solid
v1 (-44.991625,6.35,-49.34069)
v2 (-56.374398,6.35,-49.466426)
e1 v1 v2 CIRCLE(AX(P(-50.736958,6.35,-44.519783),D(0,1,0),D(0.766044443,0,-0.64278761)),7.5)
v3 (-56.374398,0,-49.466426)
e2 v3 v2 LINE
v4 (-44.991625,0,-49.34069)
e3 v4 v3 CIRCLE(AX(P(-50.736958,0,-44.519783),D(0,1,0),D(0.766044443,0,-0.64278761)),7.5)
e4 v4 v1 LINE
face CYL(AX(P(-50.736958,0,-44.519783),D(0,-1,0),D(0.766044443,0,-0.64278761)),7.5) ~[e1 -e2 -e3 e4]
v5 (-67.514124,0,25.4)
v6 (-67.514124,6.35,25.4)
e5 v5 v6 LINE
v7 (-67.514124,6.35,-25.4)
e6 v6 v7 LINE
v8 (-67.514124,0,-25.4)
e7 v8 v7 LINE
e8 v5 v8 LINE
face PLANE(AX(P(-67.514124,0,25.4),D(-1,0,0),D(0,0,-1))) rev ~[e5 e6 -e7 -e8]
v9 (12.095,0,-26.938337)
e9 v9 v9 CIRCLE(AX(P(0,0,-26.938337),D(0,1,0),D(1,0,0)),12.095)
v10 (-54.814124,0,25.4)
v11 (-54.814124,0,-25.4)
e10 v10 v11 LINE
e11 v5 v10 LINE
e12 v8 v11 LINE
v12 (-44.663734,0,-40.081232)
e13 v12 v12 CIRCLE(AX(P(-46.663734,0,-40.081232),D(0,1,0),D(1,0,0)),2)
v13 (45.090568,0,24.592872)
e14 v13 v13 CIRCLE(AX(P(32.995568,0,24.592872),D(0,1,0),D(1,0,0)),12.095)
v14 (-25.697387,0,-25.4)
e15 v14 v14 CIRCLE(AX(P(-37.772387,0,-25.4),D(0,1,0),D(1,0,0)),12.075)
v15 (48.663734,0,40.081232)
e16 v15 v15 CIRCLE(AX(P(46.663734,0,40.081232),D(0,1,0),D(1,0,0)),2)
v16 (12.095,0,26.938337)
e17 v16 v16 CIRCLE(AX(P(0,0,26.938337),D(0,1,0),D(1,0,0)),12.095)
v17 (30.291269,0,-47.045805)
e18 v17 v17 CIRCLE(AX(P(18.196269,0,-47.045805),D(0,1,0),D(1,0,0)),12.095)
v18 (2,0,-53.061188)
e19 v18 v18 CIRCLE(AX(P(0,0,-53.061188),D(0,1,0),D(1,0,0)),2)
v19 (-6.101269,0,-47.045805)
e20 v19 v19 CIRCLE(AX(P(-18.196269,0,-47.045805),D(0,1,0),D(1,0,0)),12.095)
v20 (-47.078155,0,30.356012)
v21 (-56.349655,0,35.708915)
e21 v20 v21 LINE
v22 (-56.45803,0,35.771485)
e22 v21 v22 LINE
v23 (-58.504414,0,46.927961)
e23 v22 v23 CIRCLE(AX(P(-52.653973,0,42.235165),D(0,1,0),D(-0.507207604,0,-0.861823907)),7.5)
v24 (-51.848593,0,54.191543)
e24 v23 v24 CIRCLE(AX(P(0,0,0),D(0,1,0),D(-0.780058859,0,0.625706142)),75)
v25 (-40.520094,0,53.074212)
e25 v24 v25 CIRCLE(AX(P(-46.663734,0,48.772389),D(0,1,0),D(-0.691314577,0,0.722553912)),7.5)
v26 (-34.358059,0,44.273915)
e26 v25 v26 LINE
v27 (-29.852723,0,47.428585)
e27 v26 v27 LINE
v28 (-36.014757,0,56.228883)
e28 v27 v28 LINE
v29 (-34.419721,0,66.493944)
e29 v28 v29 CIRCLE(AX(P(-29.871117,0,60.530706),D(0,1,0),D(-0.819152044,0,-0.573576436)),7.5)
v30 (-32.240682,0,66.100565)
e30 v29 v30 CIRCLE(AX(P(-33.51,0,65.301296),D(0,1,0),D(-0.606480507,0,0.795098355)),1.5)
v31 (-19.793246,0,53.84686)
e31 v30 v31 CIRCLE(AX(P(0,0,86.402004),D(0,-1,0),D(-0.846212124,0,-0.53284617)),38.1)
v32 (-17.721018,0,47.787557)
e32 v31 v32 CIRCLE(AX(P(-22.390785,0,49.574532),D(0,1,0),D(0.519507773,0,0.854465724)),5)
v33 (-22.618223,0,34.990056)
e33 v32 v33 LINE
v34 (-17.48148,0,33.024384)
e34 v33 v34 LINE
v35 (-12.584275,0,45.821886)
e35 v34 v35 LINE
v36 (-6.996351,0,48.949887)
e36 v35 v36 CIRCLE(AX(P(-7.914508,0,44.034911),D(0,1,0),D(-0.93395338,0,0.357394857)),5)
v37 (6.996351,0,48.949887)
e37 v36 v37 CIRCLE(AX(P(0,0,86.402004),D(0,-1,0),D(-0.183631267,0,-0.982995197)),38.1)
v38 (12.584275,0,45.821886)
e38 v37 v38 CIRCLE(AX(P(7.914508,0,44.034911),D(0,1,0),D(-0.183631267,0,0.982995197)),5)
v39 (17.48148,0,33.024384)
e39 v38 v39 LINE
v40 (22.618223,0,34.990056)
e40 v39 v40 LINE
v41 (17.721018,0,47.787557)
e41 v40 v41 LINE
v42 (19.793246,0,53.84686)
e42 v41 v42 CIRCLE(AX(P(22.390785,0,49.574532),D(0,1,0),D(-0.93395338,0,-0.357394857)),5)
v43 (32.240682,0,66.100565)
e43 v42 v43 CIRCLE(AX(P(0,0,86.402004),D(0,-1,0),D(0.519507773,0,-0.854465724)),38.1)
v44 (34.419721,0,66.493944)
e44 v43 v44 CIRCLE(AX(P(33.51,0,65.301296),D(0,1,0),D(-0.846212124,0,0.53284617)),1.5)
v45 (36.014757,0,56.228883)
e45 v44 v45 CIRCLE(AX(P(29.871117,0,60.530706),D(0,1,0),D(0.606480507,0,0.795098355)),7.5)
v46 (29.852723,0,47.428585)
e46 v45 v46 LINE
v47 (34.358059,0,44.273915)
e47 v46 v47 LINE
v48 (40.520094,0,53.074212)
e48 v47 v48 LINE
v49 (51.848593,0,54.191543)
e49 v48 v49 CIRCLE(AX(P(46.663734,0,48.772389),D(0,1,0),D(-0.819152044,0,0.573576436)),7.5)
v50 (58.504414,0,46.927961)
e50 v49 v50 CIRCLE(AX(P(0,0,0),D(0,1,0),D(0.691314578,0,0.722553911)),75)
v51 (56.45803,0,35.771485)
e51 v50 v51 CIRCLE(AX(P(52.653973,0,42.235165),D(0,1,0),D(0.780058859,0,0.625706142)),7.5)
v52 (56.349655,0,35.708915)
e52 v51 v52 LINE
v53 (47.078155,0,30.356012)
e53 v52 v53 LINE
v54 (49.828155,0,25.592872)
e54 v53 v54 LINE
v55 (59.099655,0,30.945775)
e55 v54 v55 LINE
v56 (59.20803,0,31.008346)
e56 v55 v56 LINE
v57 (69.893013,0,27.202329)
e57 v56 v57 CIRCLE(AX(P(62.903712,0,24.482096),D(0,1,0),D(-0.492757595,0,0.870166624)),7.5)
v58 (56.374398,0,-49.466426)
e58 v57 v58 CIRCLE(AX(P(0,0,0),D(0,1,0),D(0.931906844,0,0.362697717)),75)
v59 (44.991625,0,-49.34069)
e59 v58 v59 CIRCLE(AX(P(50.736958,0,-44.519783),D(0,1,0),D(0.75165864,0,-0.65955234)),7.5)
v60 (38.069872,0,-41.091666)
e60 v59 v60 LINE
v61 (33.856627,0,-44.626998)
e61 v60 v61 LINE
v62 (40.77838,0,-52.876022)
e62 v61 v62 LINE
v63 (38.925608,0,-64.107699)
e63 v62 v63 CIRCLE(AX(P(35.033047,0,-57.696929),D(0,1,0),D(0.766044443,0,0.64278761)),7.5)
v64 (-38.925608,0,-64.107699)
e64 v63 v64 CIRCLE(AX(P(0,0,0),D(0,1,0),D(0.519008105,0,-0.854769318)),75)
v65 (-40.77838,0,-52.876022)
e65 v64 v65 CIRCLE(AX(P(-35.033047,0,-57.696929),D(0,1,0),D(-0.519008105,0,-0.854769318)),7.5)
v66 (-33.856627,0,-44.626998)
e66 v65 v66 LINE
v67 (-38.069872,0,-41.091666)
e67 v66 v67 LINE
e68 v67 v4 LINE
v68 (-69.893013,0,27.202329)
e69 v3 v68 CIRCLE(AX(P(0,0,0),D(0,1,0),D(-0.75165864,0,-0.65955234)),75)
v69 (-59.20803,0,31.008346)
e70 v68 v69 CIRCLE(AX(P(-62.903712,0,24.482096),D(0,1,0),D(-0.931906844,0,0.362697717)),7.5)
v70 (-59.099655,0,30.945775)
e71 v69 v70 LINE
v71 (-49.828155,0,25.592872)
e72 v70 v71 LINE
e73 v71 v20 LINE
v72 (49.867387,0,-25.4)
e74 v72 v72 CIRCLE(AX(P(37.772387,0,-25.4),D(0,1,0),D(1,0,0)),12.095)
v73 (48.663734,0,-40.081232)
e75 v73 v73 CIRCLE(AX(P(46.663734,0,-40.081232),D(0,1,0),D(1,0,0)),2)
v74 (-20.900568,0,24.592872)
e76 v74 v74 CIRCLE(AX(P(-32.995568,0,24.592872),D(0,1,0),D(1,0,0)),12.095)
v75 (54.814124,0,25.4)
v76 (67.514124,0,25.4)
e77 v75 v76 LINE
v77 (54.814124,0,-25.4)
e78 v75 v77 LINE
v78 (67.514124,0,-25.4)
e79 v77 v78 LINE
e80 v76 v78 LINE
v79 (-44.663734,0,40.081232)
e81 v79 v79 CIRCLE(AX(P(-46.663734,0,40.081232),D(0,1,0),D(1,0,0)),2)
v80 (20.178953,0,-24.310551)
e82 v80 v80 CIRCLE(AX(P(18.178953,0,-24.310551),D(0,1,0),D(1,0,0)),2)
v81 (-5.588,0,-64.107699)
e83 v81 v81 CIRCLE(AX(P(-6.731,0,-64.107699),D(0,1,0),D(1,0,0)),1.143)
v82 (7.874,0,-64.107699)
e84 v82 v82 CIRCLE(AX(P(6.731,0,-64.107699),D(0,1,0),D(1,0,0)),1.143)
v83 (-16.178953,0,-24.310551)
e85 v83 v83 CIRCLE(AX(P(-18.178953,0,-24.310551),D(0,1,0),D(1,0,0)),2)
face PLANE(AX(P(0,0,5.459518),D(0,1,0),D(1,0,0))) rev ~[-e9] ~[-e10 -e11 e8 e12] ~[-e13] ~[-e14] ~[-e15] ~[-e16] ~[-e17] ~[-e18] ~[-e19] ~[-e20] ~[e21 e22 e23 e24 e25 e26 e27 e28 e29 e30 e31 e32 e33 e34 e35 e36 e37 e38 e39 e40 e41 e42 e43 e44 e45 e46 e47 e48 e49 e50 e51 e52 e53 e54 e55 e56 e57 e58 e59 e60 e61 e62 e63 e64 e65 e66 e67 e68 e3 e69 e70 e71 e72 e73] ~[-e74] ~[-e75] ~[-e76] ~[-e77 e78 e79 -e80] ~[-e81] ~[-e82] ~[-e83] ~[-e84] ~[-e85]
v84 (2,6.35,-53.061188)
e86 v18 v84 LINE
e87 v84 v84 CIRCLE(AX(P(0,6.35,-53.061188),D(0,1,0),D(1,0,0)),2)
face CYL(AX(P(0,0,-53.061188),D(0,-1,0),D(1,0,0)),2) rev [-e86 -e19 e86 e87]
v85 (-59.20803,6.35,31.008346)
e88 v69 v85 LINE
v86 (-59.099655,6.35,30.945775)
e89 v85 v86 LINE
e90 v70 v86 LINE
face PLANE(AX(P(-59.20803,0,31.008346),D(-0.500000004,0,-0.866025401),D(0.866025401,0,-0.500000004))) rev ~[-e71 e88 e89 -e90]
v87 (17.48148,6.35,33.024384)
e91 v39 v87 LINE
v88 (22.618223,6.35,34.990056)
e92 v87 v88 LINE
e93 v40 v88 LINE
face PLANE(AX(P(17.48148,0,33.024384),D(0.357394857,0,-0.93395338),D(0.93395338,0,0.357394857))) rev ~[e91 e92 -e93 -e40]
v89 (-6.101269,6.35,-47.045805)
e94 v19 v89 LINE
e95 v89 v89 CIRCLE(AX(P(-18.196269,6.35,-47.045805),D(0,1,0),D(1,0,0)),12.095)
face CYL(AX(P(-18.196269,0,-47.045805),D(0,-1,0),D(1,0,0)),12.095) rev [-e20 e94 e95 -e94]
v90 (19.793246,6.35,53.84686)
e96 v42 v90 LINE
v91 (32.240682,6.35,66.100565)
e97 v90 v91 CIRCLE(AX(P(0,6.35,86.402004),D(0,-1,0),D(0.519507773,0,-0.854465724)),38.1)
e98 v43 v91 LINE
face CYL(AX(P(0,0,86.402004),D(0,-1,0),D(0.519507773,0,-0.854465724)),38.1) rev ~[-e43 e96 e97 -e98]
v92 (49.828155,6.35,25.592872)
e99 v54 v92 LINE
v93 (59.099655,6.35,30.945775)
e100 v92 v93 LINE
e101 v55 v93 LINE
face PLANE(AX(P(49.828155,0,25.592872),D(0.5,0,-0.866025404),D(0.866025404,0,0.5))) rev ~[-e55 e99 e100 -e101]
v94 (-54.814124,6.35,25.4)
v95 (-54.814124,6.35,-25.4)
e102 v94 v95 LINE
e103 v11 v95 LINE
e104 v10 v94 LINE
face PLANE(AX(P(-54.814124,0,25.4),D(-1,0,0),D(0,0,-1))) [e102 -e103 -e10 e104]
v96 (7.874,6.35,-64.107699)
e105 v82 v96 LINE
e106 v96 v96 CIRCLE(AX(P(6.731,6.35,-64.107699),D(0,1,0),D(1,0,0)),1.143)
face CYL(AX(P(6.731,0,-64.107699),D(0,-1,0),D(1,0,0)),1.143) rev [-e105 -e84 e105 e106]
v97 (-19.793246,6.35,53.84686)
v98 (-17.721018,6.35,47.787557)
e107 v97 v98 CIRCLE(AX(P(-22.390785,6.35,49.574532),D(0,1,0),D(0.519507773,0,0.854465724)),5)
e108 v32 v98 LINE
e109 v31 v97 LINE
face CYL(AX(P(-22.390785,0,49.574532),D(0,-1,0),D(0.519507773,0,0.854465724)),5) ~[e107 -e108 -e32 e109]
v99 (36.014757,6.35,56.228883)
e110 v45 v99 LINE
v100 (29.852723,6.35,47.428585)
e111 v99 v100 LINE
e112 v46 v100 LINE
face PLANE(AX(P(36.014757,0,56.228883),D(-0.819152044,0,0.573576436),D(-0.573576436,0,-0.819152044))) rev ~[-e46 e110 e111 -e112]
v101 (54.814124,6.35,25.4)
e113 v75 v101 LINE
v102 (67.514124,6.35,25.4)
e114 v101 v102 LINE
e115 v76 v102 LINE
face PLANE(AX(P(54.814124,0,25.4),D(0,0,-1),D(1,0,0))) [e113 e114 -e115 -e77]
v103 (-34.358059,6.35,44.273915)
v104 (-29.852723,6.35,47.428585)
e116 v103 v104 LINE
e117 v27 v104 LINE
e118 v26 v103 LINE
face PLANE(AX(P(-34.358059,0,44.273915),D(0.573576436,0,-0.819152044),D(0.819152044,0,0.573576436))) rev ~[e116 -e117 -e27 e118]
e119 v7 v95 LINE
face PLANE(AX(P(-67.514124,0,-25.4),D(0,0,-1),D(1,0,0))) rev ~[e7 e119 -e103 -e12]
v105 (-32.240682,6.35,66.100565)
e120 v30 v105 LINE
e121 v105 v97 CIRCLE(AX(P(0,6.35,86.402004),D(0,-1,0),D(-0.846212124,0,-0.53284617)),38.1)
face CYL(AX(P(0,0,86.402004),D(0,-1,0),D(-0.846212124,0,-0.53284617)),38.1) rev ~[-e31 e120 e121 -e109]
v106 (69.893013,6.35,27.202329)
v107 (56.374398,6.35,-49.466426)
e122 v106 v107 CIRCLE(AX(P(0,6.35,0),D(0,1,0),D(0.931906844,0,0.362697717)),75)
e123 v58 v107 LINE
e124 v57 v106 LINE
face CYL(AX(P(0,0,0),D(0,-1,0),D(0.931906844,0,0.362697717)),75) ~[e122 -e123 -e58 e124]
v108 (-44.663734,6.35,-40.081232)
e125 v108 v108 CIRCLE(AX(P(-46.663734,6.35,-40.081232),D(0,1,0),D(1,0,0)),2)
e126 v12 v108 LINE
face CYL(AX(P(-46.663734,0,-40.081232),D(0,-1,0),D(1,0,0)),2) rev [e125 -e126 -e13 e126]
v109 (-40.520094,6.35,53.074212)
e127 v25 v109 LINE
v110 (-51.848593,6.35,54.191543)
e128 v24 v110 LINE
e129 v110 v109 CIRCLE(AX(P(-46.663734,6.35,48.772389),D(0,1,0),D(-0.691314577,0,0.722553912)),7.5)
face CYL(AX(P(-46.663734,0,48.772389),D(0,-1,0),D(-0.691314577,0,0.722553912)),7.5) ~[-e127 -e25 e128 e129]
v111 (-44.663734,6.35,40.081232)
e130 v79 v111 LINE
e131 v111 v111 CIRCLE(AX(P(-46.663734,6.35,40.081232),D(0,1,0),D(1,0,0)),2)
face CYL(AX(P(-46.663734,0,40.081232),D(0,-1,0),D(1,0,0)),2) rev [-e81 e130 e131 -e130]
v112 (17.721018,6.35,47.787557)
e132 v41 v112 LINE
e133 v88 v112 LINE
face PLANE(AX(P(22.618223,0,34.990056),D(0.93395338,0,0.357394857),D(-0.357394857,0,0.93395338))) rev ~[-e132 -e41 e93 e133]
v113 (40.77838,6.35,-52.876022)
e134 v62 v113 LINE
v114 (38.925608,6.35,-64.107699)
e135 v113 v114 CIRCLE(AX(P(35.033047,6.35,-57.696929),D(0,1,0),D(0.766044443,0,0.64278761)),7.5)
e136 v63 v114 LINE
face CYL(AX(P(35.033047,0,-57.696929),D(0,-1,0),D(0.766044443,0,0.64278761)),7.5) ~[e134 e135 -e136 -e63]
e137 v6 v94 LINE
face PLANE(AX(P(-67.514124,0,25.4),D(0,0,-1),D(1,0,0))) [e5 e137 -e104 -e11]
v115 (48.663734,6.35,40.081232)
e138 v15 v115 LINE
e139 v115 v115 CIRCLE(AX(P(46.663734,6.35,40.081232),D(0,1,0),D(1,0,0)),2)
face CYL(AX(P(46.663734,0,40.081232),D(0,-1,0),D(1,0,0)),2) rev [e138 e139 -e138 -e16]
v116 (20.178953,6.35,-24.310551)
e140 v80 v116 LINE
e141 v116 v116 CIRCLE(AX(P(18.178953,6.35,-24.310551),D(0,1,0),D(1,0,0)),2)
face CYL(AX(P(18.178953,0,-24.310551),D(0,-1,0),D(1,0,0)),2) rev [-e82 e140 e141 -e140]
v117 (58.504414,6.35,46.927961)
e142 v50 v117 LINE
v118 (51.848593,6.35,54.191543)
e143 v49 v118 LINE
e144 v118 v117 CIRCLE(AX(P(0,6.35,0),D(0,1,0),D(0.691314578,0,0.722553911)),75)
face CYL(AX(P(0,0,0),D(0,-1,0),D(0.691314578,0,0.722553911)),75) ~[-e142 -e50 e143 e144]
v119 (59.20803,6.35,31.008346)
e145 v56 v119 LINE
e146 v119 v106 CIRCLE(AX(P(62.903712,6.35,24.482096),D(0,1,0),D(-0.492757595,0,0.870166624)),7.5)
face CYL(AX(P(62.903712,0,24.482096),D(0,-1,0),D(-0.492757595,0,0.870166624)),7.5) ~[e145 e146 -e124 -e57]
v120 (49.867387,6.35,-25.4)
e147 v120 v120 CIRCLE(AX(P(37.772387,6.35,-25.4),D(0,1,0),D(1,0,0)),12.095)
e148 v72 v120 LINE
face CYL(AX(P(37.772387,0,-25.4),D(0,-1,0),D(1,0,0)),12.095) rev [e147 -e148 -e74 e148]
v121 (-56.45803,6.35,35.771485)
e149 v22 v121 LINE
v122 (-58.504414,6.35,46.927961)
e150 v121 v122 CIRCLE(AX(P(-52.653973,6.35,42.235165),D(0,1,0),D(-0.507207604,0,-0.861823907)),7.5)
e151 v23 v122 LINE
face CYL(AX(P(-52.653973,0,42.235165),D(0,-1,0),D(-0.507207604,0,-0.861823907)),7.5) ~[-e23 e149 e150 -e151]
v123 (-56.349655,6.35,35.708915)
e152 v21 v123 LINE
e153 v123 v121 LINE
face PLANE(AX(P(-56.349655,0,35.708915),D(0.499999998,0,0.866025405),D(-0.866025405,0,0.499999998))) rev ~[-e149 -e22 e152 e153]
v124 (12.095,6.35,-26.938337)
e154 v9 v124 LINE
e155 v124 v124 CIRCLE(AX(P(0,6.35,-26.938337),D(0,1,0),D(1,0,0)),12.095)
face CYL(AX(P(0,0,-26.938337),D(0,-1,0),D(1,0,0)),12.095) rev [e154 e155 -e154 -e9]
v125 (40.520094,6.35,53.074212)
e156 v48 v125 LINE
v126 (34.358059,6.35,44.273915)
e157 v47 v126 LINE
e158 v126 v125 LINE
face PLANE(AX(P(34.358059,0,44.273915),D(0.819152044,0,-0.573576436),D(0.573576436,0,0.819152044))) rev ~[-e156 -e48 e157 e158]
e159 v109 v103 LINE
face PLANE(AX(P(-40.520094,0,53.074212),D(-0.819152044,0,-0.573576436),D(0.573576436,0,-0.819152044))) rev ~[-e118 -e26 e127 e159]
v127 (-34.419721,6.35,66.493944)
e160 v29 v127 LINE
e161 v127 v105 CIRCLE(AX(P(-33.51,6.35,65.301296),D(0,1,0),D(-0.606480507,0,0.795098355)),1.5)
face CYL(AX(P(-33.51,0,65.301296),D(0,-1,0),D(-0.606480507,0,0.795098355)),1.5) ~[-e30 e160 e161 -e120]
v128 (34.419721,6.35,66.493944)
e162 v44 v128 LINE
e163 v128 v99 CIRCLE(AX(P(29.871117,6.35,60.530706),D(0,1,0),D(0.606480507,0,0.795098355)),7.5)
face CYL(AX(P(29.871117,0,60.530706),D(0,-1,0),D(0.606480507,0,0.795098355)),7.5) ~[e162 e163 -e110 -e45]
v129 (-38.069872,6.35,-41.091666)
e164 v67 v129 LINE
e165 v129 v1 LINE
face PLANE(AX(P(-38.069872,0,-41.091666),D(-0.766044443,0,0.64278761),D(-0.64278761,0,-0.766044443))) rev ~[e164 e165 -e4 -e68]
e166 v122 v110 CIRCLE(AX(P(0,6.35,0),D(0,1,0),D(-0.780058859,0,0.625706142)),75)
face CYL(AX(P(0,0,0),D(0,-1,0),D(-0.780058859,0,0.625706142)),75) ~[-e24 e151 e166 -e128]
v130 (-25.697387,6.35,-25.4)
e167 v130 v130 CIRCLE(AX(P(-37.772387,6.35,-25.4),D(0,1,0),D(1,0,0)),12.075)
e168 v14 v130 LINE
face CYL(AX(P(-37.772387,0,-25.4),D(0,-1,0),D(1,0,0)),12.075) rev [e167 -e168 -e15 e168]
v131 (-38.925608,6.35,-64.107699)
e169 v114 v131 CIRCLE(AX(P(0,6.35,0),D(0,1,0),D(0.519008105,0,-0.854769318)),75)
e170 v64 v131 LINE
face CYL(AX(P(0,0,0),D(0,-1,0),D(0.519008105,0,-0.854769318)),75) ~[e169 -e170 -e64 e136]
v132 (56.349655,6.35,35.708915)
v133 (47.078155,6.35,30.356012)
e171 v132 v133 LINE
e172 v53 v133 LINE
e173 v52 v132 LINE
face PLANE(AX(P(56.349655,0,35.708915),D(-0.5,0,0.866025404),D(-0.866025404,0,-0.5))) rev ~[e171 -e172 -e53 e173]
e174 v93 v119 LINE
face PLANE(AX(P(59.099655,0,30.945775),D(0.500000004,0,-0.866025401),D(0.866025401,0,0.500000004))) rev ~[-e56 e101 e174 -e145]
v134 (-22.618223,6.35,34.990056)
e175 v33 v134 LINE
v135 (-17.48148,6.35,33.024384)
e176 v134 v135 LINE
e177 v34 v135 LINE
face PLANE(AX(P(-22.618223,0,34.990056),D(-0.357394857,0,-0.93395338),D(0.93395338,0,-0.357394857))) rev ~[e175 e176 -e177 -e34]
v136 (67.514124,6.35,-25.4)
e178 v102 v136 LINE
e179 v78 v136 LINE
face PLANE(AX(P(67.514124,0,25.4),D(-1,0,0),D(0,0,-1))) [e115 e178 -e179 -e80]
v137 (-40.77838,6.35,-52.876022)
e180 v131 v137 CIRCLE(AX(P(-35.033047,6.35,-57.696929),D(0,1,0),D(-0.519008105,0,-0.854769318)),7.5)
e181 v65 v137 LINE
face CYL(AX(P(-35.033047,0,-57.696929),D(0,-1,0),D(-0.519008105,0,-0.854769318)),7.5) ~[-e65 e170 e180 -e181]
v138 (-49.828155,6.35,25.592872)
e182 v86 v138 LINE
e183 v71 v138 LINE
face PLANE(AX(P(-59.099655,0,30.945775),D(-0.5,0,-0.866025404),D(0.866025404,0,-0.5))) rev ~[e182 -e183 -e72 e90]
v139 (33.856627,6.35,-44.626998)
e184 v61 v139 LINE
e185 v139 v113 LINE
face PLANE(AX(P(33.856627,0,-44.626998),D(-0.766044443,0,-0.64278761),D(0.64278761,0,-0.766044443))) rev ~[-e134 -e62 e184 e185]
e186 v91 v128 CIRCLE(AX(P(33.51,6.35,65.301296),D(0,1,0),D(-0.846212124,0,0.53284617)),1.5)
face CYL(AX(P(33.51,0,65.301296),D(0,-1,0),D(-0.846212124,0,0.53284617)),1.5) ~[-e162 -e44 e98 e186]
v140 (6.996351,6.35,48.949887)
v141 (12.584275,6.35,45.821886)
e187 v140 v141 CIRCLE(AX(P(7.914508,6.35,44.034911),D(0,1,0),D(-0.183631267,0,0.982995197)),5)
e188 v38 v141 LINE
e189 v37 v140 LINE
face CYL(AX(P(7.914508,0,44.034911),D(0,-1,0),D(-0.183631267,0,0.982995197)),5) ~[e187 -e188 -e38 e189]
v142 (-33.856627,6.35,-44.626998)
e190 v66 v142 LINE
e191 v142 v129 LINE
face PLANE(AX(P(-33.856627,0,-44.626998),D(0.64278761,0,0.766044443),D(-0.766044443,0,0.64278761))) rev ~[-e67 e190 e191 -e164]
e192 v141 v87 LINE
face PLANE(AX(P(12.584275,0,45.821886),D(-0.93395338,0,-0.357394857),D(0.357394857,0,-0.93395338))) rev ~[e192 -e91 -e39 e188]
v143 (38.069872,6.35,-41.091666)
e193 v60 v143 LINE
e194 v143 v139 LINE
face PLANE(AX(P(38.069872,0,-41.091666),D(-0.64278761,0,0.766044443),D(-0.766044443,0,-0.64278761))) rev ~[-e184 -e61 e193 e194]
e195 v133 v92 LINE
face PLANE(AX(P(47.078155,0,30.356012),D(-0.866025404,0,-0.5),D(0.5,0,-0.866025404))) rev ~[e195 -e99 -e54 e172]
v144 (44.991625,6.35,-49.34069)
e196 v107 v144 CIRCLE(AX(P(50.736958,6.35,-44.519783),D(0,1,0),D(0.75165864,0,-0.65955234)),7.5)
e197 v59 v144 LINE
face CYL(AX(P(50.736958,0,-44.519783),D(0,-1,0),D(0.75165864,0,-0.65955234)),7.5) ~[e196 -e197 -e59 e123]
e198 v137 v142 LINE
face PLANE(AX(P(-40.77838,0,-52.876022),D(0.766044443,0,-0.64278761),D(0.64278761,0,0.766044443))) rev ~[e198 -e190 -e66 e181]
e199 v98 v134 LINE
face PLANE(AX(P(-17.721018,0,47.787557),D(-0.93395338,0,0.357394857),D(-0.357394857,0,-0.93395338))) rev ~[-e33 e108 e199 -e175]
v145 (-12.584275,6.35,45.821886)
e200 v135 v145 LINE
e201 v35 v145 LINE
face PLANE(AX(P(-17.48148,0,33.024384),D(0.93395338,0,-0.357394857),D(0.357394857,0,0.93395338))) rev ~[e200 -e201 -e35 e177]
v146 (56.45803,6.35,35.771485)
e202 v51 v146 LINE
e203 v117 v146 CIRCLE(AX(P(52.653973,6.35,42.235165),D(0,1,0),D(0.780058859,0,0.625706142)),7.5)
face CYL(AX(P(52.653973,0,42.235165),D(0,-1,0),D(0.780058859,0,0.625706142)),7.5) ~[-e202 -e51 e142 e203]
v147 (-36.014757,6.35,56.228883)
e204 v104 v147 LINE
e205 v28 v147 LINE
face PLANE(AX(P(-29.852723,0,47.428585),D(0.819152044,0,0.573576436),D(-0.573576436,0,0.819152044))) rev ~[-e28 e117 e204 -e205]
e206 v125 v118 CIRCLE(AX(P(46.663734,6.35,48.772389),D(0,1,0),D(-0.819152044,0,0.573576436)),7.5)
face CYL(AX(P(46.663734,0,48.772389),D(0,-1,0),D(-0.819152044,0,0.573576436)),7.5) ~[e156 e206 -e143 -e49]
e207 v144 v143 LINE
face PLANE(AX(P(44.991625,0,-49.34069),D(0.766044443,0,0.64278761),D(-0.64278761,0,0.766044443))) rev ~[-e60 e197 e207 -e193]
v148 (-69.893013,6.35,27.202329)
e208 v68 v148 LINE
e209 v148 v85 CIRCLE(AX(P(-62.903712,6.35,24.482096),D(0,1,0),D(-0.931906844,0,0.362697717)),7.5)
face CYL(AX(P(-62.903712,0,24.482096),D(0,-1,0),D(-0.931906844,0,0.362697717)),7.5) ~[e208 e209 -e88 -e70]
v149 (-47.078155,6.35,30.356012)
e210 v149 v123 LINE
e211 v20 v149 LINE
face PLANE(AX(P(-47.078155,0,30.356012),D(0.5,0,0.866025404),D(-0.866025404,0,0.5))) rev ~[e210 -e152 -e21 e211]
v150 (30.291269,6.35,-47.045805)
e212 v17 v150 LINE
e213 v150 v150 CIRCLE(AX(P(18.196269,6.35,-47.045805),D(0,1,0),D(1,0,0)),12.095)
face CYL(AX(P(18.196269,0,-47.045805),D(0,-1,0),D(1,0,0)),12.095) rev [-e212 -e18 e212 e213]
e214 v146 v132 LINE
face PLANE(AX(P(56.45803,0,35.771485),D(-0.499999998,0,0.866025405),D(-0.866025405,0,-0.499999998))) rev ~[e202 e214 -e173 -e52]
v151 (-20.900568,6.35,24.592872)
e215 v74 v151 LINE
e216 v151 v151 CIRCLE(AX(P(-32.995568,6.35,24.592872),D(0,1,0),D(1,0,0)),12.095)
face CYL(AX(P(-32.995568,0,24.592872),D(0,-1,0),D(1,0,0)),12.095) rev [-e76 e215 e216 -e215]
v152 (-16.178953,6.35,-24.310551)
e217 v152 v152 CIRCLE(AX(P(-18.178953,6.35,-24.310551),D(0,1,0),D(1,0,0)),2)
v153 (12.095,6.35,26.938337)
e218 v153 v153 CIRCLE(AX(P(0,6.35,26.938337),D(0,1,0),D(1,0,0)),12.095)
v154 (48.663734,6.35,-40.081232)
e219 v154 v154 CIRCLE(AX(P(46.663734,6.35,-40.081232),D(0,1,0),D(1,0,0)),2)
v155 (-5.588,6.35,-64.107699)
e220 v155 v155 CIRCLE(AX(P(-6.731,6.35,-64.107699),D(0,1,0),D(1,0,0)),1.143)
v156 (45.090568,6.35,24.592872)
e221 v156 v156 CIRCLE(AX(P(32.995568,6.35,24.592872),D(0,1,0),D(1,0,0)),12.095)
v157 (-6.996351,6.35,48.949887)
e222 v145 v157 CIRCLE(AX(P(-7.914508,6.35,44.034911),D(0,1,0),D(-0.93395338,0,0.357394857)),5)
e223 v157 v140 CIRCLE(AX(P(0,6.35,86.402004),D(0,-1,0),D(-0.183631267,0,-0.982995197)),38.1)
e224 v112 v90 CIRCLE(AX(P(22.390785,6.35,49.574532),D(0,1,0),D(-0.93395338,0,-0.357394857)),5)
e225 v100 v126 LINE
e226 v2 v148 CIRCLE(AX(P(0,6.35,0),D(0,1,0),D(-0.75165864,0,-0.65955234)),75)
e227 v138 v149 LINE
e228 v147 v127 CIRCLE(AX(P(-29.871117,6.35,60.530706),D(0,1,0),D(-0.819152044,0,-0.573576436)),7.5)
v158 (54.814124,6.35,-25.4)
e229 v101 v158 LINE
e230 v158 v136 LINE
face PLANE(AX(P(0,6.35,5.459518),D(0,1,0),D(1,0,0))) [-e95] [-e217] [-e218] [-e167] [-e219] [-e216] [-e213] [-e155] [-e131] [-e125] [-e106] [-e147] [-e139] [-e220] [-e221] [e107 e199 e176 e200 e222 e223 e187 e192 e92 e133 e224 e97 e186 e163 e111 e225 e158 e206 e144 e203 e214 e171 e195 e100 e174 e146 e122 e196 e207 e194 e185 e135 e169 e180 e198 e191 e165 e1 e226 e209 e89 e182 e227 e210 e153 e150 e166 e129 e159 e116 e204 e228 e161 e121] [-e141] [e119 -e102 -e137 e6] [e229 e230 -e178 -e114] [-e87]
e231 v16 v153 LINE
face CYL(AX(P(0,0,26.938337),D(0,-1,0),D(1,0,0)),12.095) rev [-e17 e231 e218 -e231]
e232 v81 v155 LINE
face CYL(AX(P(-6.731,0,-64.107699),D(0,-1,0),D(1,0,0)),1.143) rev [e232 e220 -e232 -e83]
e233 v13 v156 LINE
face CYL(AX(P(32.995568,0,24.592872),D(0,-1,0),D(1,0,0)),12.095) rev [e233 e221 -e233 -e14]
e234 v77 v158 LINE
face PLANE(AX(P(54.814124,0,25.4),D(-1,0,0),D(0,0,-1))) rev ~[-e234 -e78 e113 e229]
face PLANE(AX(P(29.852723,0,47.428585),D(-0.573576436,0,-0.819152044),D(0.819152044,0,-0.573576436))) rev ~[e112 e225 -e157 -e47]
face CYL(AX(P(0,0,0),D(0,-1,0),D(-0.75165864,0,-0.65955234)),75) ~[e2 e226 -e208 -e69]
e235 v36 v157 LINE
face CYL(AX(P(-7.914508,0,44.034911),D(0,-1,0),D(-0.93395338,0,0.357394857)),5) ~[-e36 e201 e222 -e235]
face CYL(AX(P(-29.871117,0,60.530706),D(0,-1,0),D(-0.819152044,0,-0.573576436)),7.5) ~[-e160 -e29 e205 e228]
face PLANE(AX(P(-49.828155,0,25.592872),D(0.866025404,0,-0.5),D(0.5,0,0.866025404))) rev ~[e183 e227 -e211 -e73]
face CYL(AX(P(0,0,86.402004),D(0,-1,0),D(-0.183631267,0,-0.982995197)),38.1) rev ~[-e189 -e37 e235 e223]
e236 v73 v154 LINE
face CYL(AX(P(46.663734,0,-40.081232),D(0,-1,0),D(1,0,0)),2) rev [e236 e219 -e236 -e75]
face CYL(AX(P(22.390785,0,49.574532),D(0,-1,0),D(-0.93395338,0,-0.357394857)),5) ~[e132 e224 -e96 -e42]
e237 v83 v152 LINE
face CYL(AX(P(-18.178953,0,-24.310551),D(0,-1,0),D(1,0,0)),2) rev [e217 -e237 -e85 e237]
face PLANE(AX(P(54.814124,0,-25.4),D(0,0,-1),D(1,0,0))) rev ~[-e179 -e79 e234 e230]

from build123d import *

# Parameters (mm, degrees)
SKETCH1_R           = 2
SKETCH1_W           = 12.7
SKETCH1_H           = 50.8
SKETCH1_R_2         = 12.095
SKETCH1_R_3         = 12.075
SKETCH1_R_4         = 1.143
BOSS_EXTRUDE1_DEPTH = 6.35


with BuildPart() as part:
    # Sketch1 → Boss-Extrude1 (new body)
    with BuildSketch(Plane(origin=(0, 0, 0), x_dir=(1, 0, 0), z_dir=(0, 1, 0))):
        with BuildLine():
            Line((-40.520093651, -53.074212293), (-34.358059191, -44.273915061))
            Line((-34.358059191, -44.273915061), (-29.852722948, -47.428585461))
            Line((-29.852722948, -47.428585461), (-36.014757408, -56.228882693))
            ThreePointArc((-36.014757408, -56.228882693), (-37.282182463, -61.682274385), (-34.419720881, -66.493943628))
            ThreePointArc((-34.419720881, -66.493943628), (-33.243515234, -66.777434912), (-32.240681933, -66.10056535))
            ThreePointArc((-32.240681933, -66.10056535), (-26.728650164, -59.250774979), (-19.793246149, -53.846860332))
            ThreePointArc((-19.793246149, -53.846860332), (-17.659799789, -51.192486841), (-17.721018114, -47.787557426))
            Line((-17.721018114, -47.787557426), (-22.618223277, -34.99005566))
            Line((-22.618223277, -34.99005566), (-17.481479686, -33.024383946))
            Line((-17.481479686, -33.024383946), (-12.584274523, -45.821885712))
            ThreePointArc((-12.584274523, -45.821885712), (-10.356790186, -48.397852623), (-6.996351286, -48.949887413))
            ThreePointArc((-6.996351286, -48.949887413), (0, -48.302004425), (6.996351286, -48.949887413))
            ThreePointArc((6.996351286, -48.949887413), (10.356790186, -48.397852623), (12.584274523, -45.821885712))
            Line((12.584274523, -45.821885712), (17.481479686, -33.024383946))
            Line((17.481479686, -33.024383946), (22.618223277, -34.99005566))
            Line((22.618223277, -34.99005566), (17.721018114, -47.787557426))
            ThreePointArc((17.721018114, -47.787557426), (17.659799789, -51.192486841), (19.793246149, -53.846860332))
            ThreePointArc((19.793246149, -53.846860332), (26.728650164, -59.250774979), (32.240681933, -66.10056535))
            ThreePointArc((32.240681933, -66.10056535), (33.243515234, -66.777434912), (34.419720881, -66.493943628))
            ThreePointArc((34.419720881, -66.493943628), (37.282182463, -61.682274385), (36.014757408, -56.228882693))
            Line((36.014757408, -56.228882693), (29.852722948, -47.428585461))
            Line((29.852722948, -47.428585461), (34.358059191, -44.273915061))
            Line((34.358059191, -44.273915061), (40.520093651, -53.074212293))
            ThreePointArc((40.520093651, -53.074212293), (45.927580176, -56.23617342), (51.848593315, -54.191543356))
            ThreePointArc((51.848593315, -54.191543356), (55.295899374, -50.669157408), (58.504414423, -46.927960674))
            ThreePointArc((58.504414423, -46.927960674), (60.030901261, -40.882046302), (56.458030011, -35.771485305))
            Line((56.458030011, -35.771485305), (56.349654942, -35.70891493))
            Line((56.349654942, -35.70891493), (47.078155187, -30.35601205))
            Line((47.078155187, -30.35601205), (49.828155187, -25.59287233))
            Line((49.828155187, -25.59287233), (59.099654942, -30.945775209))
            Line((59.099654942, -30.945775209), (59.208030011, -31.008345585))
            ThreePointArc((59.208030011, -31.008345585), (65.420341286, -31.547262353), (69.893013303, -27.202328787))
            ThreePointArc((69.893013303, -27.202328787), (73.860606951, 13.023468848), (56.374397975, 49.466425512))
            ThreePointArc((56.374397975, 49.466425512), (50.654117331, 52.01932544), (44.991624855, 49.340690033))
            Line((44.991624855, 49.340690033), (38.069871869, 41.091666046))
            Line((38.069871869, 41.091666046), (33.856627432, 44.626997899))
            Line((33.856627432, 44.626997899), (40.778380417, 52.876021886))
            ThreePointArc((40.778380417, 52.876021886), (42.433039833, 58.917628536), (38.925607882, 64.107698843))
            ThreePointArc((38.925607882, 64.107698843), (0, 75), (-38.925607882, 64.107698843))
            ThreePointArc((-38.925607882, 64.107698843), (-42.433039833, 58.917628536), (-40.778380417, 52.876021886))
            Line((-40.778380417, 52.876021886), (-33.856627432, 44.626997899))
            Line((-33.856627432, 44.626997899), (-38.069871869, 41.091666046))
            Line((-38.069871869, 41.091666046), (-44.991624855, 49.340690033))
            ThreePointArc((-44.991624855, 49.340690033), (-50.654117331, 52.01932544), (-56.374397975, 49.466425512))
            ThreePointArc((-56.374397975, 49.466425512), (-73.860606951, 13.023468848), (-69.893013303, -27.202328787))
            ThreePointArc((-69.893013303, -27.202328787), (-65.420341286, -31.547262353), (-59.208030011, -31.008345585))
            Line((-59.208030011, -31.008345585), (-59.099654942, -30.945775209))
            Line((-59.099654942, -30.945775209), (-49.828155187, -25.59287233))
            Line((-49.828155187, -25.59287233), (-47.078155187, -30.35601205))
            Line((-47.078155187, -30.35601205), (-56.349654942, -35.70891493))
            Line((-56.349654942, -35.70891493), (-56.458030011, -35.771485305))
            ThreePointArc((-56.458030011, -35.771485305), (-60.030901261, -40.882046302), (-58.504414423, -46.927960674))
            ThreePointArc((-58.504414423, -46.927960674), (-55.295899374, -50.669157408), (-51.848593315, -54.191543356))
            ThreePointArc((-51.848593315, -54.191543356), (-45.927580176, -56.23617342), (-40.520093651, -53.074212293))
        make_face()
        with Locations((-46.663733983, -40.081231883)):
            Circle(SKETCH1_R, mode=Mode.SUBTRACT)
        with Locations((-61.164123727, 0)):
            Rectangle(SKETCH1_W, SKETCH1_H, mode=Mode.SUBTRACT)
        with Locations((-32.995567884, -24.592872328)):
            Circle(SKETCH1_R_2, mode=Mode.SUBTRACT)
        with Locations((46.663733983, -40.081231883)):
            Circle(SKETCH1_R, mode=Mode.SUBTRACT)
        with Locations((0, -26.93833729)):
            Circle(SKETCH1_R_2, mode=Mode.SUBTRACT)
        with Locations((32.995567884, -24.592872328)):
            Circle(SKETCH1_R_2, mode=Mode.SUBTRACT)
        with Locations((61.164123727, 0)):
            Rectangle(SKETCH1_W, SKETCH1_H, mode=Mode.SUBTRACT)
        with Locations((-37.772386793, 25.4)):
            Circle(SKETCH1_R_3, mode=Mode.SUBTRACT)
        with Locations((-18.178952795, 24.310551096)):
            Circle(SKETCH1_R, mode=Mode.SUBTRACT)
        with Locations((-46.663733983, 40.081231883)):
            Circle(SKETCH1_R, mode=Mode.SUBTRACT)
        with Locations((-18.1962694, 47.045805056)):
            Circle(SKETCH1_R_2, mode=Mode.SUBTRACT)
        with Locations((-6.731, 64.107698843)):
            Circle(SKETCH1_R_4, mode=Mode.SUBTRACT)
        with Locations((0, 26.93833729)):
            Circle(SKETCH1_R_2, mode=Mode.SUBTRACT)
        with Locations((18.178952795, 24.310551096)):
            Circle(SKETCH1_R, mode=Mode.SUBTRACT)
        with Locations((37.772386793, 25.4)):
            Circle(SKETCH1_R_2, mode=Mode.SUBTRACT)
        with Locations((18.1962694, 47.045805056)):
            Circle(SKETCH1_R_2, mode=Mode.SUBTRACT)
        with Locations((0, 53.061187965)):
            Circle(SKETCH1_R, mode=Mode.SUBTRACT)
        with Locations((6.731, 64.107698843)):
            Circle(SKETCH1_R_4, mode=Mode.SUBTRACT)
        with Locations((46.663733983, 40.081231883)):
            Circle(SKETCH1_R, mode=Mode.SUBTRACT)
    extrude(amount=BOSS_EXTRUDE1_DEPTH)


solid = part.part
